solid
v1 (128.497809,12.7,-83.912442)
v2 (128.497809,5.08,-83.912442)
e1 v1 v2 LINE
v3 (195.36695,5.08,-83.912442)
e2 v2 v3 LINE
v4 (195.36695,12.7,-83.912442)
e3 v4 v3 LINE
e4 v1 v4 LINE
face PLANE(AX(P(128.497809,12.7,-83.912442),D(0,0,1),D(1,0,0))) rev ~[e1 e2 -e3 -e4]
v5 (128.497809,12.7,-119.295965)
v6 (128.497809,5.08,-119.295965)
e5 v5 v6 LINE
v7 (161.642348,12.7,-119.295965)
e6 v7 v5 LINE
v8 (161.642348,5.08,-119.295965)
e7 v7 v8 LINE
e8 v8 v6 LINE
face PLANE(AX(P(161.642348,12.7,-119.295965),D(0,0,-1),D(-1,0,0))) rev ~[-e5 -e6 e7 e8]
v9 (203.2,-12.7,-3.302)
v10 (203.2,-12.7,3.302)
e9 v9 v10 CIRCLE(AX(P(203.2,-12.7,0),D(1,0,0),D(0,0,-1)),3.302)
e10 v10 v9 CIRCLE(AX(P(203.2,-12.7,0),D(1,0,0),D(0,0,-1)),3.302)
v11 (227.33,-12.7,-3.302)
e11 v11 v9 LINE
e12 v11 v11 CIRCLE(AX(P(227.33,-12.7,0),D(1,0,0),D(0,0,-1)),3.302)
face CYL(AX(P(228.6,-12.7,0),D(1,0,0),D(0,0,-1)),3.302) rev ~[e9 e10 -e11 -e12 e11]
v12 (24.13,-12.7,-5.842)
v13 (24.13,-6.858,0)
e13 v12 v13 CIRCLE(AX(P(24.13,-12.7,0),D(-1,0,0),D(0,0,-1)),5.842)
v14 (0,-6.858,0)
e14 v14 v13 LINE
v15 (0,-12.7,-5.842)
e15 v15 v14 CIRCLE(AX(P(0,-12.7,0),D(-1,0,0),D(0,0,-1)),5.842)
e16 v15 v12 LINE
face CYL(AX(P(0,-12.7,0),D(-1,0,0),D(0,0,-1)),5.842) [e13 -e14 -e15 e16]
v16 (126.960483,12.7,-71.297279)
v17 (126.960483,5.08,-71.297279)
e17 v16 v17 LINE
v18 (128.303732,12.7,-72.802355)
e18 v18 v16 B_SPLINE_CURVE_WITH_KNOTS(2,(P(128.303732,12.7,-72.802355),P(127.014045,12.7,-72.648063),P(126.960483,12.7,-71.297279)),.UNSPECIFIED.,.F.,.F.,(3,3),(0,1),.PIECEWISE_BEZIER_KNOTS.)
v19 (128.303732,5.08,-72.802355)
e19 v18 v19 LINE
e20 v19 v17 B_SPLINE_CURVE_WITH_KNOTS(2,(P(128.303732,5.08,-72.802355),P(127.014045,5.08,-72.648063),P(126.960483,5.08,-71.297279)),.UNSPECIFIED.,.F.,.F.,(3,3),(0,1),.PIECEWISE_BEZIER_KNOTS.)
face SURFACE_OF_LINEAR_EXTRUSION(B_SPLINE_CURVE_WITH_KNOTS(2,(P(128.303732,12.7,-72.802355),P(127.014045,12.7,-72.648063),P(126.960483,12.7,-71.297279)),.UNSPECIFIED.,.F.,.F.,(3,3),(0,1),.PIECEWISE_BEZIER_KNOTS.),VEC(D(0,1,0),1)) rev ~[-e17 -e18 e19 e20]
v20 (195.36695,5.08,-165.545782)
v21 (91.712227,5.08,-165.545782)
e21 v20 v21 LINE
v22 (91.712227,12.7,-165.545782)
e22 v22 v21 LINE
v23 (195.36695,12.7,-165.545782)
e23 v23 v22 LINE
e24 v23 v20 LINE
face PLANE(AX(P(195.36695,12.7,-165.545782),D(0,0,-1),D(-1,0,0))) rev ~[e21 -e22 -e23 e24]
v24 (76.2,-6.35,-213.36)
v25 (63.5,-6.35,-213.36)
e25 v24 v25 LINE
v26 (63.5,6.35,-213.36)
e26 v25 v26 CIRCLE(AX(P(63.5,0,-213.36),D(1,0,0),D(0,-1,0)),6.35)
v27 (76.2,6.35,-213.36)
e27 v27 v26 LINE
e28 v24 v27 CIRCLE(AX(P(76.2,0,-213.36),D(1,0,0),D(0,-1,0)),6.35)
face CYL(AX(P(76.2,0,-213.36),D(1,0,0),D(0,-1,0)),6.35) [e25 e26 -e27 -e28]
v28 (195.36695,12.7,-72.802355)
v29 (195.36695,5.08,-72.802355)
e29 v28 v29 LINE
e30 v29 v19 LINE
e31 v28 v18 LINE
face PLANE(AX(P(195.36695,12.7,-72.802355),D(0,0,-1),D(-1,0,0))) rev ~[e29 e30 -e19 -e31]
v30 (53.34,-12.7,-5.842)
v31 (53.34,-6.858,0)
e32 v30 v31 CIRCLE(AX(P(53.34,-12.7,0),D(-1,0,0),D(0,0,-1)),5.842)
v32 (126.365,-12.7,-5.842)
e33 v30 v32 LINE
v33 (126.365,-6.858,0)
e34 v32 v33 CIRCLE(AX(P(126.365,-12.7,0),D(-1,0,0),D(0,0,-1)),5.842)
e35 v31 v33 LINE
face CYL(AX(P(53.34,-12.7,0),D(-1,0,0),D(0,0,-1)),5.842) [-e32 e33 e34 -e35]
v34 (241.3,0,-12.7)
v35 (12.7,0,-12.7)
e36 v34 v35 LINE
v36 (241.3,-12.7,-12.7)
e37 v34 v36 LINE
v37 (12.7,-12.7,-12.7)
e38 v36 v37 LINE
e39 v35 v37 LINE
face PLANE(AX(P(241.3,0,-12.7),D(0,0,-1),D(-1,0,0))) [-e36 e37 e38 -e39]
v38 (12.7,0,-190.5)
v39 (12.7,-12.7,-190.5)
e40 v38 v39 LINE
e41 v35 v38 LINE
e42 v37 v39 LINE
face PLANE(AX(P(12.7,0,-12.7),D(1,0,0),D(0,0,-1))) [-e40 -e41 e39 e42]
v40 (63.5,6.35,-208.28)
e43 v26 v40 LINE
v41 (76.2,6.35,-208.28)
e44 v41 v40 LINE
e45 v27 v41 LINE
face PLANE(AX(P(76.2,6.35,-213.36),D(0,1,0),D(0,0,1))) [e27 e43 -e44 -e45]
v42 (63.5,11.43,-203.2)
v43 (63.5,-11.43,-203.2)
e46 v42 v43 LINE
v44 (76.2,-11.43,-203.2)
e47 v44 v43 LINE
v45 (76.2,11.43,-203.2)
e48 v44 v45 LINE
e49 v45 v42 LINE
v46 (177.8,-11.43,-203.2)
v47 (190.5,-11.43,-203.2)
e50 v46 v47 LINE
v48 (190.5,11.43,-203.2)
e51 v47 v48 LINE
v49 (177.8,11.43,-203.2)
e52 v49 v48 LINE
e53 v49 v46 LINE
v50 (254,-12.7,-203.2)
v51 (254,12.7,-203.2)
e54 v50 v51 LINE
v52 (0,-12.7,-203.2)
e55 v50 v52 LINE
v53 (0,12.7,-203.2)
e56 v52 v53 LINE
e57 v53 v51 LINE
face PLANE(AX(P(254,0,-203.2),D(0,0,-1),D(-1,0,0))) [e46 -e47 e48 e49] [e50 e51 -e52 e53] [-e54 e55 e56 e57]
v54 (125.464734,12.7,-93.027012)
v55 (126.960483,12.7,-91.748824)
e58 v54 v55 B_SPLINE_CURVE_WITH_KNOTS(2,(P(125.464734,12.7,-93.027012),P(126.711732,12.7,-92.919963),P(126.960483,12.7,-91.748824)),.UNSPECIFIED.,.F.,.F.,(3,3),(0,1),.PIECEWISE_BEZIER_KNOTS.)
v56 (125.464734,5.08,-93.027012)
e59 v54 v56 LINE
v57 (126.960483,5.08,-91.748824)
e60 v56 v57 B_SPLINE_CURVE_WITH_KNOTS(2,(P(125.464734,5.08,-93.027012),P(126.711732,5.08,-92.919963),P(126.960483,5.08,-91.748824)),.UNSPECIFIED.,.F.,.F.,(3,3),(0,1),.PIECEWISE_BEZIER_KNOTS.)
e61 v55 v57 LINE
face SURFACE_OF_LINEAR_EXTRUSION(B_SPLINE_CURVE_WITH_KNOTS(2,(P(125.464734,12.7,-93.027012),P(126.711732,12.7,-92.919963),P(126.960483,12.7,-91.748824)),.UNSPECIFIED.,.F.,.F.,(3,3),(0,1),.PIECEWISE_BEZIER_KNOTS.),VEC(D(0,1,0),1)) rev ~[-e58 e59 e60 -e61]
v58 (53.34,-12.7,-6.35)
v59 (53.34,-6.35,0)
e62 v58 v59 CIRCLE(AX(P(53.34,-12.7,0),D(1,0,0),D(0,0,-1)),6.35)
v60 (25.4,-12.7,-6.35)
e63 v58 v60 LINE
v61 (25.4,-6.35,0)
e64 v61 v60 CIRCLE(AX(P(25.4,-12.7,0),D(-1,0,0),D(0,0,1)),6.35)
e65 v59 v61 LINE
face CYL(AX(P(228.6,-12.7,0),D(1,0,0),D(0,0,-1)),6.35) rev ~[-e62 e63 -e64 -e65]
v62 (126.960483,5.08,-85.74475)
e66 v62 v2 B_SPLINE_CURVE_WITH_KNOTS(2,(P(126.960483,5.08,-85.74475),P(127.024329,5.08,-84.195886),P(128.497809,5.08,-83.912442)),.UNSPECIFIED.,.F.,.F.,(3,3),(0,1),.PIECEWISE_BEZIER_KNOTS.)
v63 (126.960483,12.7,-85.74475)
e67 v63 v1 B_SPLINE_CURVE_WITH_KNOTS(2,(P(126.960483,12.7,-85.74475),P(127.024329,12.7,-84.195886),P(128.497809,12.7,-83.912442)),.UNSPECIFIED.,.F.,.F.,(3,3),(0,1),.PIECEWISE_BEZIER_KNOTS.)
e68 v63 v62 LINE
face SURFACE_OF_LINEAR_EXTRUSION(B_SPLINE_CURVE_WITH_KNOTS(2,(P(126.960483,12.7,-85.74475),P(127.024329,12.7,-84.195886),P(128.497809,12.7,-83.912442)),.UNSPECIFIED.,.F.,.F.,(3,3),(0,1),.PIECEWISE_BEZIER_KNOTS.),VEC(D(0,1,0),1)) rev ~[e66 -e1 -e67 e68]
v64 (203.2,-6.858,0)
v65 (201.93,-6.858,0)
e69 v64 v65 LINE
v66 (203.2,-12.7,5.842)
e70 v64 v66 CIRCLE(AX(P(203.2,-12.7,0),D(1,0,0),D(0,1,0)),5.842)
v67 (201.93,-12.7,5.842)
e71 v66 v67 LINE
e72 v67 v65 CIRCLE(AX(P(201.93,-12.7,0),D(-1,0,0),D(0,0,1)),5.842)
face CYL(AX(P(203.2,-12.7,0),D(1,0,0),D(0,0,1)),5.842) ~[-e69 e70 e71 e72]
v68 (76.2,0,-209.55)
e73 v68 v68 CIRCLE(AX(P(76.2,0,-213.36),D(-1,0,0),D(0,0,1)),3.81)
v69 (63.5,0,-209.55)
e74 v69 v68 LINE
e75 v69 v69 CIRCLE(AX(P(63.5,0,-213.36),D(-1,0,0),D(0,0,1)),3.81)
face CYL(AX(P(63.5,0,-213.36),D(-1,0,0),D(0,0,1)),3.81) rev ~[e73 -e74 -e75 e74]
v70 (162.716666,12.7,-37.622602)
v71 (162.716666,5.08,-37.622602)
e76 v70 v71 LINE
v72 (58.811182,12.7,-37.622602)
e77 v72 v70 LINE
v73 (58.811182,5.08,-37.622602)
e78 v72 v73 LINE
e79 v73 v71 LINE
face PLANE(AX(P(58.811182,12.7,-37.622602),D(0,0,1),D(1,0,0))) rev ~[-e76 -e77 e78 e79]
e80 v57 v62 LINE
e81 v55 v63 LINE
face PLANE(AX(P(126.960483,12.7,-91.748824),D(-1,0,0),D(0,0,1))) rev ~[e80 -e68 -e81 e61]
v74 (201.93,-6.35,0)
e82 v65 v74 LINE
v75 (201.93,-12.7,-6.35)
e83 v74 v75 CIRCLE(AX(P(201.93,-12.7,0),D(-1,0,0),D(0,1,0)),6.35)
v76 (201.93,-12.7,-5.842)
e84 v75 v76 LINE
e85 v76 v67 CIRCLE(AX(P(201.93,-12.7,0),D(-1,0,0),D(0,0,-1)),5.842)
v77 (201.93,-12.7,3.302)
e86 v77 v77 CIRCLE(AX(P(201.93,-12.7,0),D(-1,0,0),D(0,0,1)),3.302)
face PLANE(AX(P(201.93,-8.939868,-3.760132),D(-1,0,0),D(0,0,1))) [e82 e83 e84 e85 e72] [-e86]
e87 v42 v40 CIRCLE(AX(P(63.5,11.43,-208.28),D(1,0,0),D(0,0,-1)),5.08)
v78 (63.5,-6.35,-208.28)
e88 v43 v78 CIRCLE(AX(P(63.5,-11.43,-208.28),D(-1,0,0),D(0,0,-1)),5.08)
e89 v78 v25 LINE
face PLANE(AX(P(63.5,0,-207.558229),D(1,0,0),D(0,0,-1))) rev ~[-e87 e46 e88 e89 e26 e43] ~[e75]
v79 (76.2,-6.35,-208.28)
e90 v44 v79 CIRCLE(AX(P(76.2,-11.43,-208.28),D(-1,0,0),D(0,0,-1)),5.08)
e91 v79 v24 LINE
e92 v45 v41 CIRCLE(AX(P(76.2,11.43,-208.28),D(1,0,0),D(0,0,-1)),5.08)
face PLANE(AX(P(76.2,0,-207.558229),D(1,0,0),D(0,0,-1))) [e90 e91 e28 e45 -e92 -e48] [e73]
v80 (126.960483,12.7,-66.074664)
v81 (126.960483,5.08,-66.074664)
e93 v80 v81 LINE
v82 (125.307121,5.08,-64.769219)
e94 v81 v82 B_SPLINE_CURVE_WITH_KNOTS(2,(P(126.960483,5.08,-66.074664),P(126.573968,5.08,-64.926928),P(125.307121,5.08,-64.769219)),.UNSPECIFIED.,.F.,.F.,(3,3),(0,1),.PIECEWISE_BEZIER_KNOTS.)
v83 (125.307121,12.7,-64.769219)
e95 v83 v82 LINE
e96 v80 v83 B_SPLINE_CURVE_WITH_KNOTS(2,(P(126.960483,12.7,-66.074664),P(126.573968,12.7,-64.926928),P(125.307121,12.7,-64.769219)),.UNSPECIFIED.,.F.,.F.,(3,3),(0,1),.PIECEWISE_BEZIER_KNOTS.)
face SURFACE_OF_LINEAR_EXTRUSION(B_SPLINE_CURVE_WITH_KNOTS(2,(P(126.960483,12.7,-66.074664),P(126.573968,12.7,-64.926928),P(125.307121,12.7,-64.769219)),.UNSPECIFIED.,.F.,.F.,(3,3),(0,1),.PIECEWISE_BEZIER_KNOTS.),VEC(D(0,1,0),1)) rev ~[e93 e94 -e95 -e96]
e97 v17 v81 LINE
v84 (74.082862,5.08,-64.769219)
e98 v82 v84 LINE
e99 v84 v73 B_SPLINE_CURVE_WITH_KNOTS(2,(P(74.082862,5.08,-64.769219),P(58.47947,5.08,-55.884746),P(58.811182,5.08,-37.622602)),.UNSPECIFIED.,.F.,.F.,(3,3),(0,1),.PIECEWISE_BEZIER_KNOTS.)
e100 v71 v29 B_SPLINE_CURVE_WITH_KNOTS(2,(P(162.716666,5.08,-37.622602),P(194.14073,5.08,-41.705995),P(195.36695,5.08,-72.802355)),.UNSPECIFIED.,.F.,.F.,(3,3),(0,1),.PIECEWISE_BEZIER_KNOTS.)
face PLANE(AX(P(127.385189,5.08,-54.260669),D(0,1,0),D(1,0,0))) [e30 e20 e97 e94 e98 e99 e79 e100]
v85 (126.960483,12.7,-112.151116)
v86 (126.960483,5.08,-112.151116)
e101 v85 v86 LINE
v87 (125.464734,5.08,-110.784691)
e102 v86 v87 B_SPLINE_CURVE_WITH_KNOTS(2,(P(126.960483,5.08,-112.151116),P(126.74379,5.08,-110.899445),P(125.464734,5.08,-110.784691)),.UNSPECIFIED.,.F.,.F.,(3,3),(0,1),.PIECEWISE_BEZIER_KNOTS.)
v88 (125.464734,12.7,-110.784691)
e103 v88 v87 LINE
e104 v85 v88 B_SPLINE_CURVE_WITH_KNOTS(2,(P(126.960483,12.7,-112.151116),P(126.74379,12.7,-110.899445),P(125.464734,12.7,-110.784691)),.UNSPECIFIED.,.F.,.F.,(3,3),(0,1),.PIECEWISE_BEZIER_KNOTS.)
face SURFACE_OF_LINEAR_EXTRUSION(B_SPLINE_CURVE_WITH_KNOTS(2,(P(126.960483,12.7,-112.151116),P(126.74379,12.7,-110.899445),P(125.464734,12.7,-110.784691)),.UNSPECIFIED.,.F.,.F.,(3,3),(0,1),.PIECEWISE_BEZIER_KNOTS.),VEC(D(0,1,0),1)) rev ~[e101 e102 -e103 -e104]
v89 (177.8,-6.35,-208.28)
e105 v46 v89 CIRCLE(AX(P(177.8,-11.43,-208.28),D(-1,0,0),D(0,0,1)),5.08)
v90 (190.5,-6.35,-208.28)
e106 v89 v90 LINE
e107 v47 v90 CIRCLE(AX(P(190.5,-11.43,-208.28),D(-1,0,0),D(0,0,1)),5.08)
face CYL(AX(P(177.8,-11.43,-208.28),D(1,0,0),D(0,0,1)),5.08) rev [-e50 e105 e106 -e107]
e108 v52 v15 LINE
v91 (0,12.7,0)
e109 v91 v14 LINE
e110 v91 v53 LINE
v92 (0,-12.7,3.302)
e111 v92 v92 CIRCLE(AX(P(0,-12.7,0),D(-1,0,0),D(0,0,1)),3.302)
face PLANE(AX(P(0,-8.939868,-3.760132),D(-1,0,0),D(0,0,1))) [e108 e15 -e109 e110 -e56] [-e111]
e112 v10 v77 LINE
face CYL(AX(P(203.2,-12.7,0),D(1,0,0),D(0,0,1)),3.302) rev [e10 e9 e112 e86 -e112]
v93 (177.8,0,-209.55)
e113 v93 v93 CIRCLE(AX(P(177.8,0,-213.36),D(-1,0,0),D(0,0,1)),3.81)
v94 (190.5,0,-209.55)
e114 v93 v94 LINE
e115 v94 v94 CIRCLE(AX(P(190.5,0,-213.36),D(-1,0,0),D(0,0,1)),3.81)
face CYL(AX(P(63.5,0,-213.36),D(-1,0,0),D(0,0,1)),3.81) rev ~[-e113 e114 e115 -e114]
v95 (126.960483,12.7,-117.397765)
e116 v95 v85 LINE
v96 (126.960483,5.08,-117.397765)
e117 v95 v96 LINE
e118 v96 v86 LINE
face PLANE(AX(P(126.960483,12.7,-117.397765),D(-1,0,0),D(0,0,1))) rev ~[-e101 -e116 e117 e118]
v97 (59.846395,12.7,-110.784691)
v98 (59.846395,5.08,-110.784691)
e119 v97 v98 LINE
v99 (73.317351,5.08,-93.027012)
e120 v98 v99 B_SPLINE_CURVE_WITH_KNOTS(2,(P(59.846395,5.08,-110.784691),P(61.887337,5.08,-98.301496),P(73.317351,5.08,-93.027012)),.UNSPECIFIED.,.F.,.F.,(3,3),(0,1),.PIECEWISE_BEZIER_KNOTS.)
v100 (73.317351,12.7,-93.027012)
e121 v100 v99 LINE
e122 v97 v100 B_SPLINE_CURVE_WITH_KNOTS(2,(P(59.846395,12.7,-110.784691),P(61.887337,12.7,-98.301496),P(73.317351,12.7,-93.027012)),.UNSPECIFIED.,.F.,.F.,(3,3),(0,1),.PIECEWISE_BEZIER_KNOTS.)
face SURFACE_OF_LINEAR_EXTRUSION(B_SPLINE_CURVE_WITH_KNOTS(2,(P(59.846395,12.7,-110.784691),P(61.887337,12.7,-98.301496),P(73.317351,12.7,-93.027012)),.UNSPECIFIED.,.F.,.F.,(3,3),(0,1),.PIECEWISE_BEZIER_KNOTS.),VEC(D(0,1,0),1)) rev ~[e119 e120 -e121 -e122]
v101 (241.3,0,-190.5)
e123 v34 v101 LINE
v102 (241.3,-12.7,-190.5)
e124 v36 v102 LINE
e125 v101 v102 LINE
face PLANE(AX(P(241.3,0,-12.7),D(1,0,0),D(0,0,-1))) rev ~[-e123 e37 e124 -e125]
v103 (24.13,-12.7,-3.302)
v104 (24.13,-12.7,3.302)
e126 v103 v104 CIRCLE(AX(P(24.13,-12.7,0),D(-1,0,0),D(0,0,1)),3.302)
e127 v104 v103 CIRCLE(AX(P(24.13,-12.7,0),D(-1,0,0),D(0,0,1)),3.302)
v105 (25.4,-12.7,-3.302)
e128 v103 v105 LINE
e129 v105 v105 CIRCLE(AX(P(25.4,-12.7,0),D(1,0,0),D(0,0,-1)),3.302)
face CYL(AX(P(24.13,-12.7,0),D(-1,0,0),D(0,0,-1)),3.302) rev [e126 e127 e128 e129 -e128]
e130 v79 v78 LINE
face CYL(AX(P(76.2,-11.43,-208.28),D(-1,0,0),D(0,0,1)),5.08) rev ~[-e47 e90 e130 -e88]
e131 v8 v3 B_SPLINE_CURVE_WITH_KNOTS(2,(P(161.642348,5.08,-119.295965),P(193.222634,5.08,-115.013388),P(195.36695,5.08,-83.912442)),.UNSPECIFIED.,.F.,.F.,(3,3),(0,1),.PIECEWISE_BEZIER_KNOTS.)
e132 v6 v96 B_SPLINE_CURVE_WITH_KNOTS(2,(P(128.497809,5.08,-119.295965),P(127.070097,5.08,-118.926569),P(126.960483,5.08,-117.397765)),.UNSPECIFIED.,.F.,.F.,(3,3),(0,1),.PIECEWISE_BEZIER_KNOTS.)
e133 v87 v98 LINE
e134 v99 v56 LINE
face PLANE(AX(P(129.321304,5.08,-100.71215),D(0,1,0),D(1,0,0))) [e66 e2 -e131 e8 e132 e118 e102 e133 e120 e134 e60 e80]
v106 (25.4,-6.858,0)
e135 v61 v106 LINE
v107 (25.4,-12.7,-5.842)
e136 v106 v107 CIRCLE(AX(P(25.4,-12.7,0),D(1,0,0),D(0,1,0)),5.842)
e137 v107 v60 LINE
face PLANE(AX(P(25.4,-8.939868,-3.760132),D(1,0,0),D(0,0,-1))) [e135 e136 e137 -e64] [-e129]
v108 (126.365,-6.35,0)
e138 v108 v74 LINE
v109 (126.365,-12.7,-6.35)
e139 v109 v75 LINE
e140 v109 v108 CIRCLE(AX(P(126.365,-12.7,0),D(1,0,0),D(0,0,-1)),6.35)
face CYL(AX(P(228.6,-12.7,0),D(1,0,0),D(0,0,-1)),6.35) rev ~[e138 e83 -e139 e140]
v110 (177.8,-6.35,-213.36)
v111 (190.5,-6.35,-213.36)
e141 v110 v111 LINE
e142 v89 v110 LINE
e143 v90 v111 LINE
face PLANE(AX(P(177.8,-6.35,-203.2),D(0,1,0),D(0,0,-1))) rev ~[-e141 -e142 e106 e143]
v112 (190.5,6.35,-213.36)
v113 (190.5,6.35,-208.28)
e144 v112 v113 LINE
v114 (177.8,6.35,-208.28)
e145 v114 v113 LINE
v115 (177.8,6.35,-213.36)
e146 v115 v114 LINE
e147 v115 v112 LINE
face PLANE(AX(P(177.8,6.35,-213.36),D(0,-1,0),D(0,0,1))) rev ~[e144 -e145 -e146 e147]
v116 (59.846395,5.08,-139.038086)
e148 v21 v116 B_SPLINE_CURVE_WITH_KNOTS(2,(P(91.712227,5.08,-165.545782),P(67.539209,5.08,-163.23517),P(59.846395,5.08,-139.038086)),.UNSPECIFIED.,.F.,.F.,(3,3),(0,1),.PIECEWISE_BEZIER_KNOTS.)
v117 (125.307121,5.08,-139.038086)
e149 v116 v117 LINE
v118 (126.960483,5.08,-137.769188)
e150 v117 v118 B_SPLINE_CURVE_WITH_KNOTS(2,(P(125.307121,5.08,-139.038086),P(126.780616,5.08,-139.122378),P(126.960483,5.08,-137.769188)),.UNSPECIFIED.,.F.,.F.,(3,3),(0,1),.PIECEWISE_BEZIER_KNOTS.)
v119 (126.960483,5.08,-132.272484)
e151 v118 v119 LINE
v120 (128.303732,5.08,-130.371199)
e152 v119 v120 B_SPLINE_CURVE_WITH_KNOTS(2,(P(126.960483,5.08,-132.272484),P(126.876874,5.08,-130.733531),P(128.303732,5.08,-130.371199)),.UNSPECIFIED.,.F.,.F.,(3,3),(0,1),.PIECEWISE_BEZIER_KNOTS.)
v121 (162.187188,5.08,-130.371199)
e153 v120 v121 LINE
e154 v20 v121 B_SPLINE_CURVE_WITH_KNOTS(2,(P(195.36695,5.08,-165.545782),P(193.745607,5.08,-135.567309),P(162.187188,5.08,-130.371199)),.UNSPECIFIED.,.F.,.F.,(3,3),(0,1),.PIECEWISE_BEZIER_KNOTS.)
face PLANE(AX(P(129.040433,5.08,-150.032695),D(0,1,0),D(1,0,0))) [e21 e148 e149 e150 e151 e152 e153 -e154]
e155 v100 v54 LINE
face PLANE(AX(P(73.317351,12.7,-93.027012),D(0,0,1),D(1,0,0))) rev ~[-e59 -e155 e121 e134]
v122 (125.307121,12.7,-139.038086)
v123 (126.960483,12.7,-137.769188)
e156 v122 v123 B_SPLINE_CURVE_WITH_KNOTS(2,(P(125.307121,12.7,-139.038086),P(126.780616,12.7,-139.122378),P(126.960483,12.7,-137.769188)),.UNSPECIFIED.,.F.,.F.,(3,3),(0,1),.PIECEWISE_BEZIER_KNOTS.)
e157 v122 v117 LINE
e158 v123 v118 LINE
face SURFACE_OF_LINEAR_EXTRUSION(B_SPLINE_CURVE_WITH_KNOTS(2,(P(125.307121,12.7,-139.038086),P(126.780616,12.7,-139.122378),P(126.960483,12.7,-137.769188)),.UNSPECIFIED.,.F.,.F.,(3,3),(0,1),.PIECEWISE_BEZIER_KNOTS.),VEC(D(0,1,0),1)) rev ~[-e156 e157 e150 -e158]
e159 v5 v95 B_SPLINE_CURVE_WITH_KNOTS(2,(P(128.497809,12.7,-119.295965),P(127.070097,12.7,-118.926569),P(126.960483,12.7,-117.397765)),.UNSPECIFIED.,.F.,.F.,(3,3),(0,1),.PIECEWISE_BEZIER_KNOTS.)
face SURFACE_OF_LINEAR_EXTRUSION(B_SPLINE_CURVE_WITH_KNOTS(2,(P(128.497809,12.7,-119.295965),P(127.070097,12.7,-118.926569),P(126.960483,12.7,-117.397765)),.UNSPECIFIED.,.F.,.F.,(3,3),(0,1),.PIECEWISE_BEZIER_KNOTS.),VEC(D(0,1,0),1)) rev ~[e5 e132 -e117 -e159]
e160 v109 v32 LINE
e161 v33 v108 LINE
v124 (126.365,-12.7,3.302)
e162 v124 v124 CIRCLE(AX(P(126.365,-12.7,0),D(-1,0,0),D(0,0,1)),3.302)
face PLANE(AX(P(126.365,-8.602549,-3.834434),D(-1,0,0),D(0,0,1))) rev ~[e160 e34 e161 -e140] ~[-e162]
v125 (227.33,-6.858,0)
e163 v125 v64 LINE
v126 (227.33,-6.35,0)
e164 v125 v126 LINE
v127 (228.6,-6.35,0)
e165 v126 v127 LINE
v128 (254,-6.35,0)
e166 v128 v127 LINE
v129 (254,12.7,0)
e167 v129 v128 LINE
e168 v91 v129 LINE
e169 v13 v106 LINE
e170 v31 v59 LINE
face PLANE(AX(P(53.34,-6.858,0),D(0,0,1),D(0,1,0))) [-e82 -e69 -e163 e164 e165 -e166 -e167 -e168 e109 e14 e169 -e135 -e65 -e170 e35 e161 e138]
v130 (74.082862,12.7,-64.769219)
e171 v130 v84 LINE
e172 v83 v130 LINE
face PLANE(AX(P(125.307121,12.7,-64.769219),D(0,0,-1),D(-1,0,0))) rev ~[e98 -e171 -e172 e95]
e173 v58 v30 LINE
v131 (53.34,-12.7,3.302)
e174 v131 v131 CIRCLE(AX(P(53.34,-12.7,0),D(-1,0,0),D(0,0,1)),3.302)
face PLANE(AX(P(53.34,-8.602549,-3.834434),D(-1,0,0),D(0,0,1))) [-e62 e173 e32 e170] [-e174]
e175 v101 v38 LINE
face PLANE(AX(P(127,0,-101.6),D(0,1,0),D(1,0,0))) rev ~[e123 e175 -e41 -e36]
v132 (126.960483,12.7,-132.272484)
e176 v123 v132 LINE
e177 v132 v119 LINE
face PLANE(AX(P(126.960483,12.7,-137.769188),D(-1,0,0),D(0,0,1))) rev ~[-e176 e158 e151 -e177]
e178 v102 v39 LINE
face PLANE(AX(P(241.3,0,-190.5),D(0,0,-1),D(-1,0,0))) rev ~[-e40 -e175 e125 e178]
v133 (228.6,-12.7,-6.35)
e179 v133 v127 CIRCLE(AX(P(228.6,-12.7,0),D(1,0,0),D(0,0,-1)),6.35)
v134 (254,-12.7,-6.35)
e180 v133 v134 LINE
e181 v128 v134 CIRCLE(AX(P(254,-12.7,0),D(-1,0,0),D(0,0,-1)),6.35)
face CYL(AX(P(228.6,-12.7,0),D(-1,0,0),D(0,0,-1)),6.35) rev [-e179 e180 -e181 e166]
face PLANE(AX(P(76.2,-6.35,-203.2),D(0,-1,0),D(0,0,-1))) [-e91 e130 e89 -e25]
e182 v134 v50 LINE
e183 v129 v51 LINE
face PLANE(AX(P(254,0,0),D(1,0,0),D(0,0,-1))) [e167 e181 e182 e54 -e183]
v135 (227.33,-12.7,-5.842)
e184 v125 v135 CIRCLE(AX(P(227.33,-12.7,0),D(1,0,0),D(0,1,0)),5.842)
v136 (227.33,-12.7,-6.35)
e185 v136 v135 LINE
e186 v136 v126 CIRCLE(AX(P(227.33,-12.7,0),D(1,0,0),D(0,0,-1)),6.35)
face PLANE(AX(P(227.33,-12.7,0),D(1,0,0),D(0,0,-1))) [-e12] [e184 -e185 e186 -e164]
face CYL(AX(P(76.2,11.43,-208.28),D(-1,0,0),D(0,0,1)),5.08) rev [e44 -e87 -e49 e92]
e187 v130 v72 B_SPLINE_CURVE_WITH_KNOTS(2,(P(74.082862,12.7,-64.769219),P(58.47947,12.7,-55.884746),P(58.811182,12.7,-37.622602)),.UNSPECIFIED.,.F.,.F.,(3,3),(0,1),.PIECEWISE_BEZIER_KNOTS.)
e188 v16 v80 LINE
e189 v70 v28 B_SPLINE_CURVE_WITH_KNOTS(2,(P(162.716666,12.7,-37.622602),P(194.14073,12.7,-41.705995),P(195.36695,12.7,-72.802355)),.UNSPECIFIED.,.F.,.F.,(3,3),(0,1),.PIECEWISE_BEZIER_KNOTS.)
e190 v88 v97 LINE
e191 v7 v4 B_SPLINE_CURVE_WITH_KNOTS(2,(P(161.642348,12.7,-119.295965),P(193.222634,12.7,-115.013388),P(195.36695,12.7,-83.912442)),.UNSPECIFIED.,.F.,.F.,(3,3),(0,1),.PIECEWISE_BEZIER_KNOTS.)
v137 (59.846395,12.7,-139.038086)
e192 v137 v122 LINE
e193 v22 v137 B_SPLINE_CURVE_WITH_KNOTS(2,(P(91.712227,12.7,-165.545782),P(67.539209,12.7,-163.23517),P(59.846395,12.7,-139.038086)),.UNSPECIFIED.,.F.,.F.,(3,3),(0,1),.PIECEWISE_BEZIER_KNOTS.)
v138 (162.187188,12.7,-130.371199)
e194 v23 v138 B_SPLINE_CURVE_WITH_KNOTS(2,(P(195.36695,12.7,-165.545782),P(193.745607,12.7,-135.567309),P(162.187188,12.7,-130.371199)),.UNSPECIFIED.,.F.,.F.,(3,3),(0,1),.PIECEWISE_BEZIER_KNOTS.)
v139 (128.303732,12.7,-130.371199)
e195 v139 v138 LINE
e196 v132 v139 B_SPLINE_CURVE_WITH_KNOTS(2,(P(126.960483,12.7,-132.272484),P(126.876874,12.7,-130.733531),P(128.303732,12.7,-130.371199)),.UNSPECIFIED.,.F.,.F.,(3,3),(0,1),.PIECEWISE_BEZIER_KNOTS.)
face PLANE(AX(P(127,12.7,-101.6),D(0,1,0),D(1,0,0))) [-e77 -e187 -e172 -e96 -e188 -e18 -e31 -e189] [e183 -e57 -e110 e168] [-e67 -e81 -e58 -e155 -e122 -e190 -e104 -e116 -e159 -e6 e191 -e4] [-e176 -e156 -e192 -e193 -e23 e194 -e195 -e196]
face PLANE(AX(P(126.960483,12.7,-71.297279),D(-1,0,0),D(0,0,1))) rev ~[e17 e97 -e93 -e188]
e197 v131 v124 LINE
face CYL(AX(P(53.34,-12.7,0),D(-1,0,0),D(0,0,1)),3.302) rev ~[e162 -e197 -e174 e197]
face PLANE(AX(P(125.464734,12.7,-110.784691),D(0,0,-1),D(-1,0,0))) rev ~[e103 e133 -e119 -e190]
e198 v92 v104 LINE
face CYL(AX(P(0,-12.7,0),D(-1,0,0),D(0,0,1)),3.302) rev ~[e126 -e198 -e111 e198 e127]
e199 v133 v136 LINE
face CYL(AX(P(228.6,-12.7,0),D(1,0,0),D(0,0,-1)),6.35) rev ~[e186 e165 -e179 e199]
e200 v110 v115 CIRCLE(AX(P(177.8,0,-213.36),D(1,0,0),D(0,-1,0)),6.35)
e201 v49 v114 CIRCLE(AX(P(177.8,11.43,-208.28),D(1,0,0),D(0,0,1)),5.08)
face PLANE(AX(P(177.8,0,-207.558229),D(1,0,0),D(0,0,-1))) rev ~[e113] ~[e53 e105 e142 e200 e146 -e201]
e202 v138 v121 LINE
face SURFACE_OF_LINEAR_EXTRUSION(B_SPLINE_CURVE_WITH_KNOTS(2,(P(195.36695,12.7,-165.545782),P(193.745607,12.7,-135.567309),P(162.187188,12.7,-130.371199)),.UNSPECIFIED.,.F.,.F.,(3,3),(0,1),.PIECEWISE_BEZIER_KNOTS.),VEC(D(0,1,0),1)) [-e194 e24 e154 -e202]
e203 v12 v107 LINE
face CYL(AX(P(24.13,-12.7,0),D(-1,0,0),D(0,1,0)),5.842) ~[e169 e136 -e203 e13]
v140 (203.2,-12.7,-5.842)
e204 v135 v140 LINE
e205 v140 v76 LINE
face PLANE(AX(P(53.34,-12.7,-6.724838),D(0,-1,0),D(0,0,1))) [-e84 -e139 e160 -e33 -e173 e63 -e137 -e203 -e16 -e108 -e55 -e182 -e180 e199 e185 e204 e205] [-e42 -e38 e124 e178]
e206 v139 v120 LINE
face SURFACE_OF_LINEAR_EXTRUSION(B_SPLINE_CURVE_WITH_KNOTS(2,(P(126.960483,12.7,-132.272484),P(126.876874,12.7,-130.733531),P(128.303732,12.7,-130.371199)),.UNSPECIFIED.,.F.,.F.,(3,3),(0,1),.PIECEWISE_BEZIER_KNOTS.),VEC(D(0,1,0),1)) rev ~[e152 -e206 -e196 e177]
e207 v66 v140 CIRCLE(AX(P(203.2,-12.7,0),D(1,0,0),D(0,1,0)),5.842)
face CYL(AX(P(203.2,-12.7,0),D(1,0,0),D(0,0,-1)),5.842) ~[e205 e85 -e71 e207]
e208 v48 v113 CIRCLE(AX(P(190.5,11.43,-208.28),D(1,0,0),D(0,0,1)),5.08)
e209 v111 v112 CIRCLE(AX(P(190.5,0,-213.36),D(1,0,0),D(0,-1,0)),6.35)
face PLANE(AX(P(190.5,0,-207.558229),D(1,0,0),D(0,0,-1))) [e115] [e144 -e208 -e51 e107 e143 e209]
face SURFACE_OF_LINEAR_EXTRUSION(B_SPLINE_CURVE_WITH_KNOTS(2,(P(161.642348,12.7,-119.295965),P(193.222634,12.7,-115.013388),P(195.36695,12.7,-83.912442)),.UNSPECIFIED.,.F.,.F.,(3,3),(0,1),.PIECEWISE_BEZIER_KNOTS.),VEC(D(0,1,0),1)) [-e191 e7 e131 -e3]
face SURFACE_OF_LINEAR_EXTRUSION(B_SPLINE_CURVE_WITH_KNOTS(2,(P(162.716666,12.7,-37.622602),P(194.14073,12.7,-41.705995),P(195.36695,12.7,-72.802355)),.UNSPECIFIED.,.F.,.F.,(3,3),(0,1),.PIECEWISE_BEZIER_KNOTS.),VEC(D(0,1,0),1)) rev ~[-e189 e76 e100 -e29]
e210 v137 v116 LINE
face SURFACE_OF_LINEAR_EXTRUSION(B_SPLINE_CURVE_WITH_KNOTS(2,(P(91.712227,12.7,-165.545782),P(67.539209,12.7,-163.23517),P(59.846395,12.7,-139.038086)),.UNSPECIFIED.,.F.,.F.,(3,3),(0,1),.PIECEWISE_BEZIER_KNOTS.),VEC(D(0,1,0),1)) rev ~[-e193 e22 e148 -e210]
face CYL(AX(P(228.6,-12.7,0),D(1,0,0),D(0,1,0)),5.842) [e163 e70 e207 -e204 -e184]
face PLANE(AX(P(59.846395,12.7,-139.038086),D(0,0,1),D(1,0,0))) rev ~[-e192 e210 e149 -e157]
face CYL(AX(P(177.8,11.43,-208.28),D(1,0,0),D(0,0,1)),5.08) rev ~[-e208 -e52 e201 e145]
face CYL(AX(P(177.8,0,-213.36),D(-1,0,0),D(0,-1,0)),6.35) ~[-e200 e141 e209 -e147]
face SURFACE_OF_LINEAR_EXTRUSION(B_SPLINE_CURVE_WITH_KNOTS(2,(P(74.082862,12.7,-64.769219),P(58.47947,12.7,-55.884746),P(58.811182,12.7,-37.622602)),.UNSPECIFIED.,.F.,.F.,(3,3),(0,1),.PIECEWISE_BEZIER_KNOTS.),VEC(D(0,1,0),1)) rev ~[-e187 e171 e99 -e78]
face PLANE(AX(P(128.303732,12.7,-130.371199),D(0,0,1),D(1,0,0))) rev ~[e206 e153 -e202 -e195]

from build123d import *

# Parameters (mm, degrees)
SKETCH1_W            = 254
SKETCH1_H            = 203.2
BOSS_EXTRUDE2_DEPTH  = 12.7
SKETCH2_W            = 254
SKETCH2_H            = 203.2
SKETCH2_W_2          = 228.6
SKETCH2_H_2          = 177.8
BOSS_EXTRUDE3_DEPTH  = 12.7
SKETCH6_R            = 6.35
CUT_EXTRUDE2_DEPTH   = 52.07
SKETCH8_R            = 6.35
CUT_EXTRUDE3_DEPTH   = 52.07
SKETCH9_R            = 3.302
BOSS_EXTRUDE5_DEPTH  = 25.4
SKETCH10_R           = 6.35
CUT_EXTRUDE4_DEPTH   = 45.212
SKETCH11_R           = 6.35
CUT_EXTRUDE5_DEPTH   = 190.246
SKETCH12_R           = 5.842
SKETCH12_R_2         = 3.302
BOSS_EXTRUDE6_DEPTH  = 24.13
SKETCH15_R           = 6.35
CUT_EXTRUDE6_DEPTH   = 1.27
SKETCH17_R           = 3.302
BOSS_EXTRUDE7_DEPTH  = 1.27
SKETCH18_R           = 3.302
BOSS_EXTRUDE8_DEPTH  = 1.27
SKETCH19_R           = 5.842
SKETCH19_R_2         = 3.302
BOSS_EXTRUDE9_DEPTH  = 73.025
CUT_EXTRUDE7_DEPTH   = 7.62
SKETCH21_R           = 6.35
BOSS_EXTRUDE10_DEPTH = 12.7
SKETCH23_R           = 6.35
BOSS_EXTRUDE11_DEPTH = 12.7
SKETCH24_R           = 3.81
CUT_EXTRUDE8_DEPTH   = 167.132
FILLET1_R            = 5.08


with BuildPart() as part:
    # Sketch1 → Boss-Extrude2 (new body)
    with BuildSketch(Plane(origin=(0, 0, 0), x_dir=(1, 0, 0), z_dir=(0, 1, 0))):
        with Locations((127, 101.6)):
            Rectangle(SKETCH1_W, SKETCH1_H)
    extrude(amount=BOSS_EXTRUDE2_DEPTH)

    # Sketch2 → Boss-Extrude3 (add)
    with BuildSketch(Plane(origin=(0, 0, 0), x_dir=(-1, 0, 0), z_dir=(0, -1, 0))):
        with Locations((-127, 101.6)):
            Rectangle(SKETCH2_W, SKETCH2_H)
        with Locations((-127, 101.6)):
            Rectangle(SKETCH2_W_2, SKETCH2_H_2, mode=Mode.SUBTRACT)
    extrude(amount=BOSS_EXTRUDE3_DEPTH)

    # Sketch6 → Cut-Extrude2 (cut)
    with BuildSketch(Plane(origin=(228.6, 0, 0), x_dir=(0, 0, -1), z_dir=(1, 0, 0))):
        with Locations((0, -12.7)):
            Circle(SKETCH6_R)
    extrude(amount=-CUT_EXTRUDE2_DEPTH, mode=Mode.SUBTRACT)

    # Sketch8 → Cut-Extrude3 (cut)
    with BuildSketch(Plane.ZY.offset(-25.4)):
        with Locations((0, -12.7)):
            Circle(SKETCH8_R)
    extrude(amount=-CUT_EXTRUDE3_DEPTH, mode=Mode.SUBTRACT)

    # Sketch9 → Boss-Extrude5 (add)
    with BuildSketch(Plane(origin=(228.6, 0, 0), x_dir=(0, 0, -1), z_dir=(1, 0, 0))):
        with BuildLine():
            Line((0, -4.734153711), (0, -6.858))
            ThreePointArc((0, -6.858), (-4.130917816, -16.830917816), (5.842, -12.7))
            Line((5.842, -12.7), (6.842694324, -12.7))
            Line((6.842694324, -12.7), (6.842694324, -8.927228158))
            Line((6.842694324, -8.927228158), (0, -4.734153711))
        make_face()
        with Locations((0, -12.7)):
            Circle(SKETCH9_R, mode=Mode.SUBTRACT)
    extrude(amount=-BOSS_EXTRUDE5_DEPTH)

    # Sketch10 → Cut-Extrude4 (cut)
    with BuildSketch(Plane(origin=(228.6, 0, 0), x_dir=(0, 0, -1), z_dir=(1, 0, 0))):
        with Locations((0, -12.7)):
            Circle(SKETCH10_R)
    extrude(amount=CUT_EXTRUDE4_DEPTH, mode=Mode.SUBTRACT)

    # Sketch11 → Cut-Extrude5 (cut)
    with BuildSketch(Plane(origin=(176.53, 0, 0), x_dir=(0, 0, -1), z_dir=(1, 0, 0))):
        with Locations((0, -12.7)):
            Circle(SKETCH11_R)
    extrude(amount=-CUT_EXTRUDE5_DEPTH, mode=Mode.SUBTRACT)

    # Sketch12 → Boss-Extrude6 (add)
    with BuildSketch(Plane.ZY):
        with BuildLine():
            ThreePointArc((-5.842, -12.7), (-4.130917816, -8.569082184), (0, -6.858))
            Line((0, -6.858), (0, -6.35))
            ThreePointArc((0, -6.35), (-4.490128061, -8.209871939), (-6.35, -12.7))
            Line((-6.35, -12.7), (-5.842, -12.7))
        make_face()
        with Locations((0, -12.7)):
            Circle(SKETCH12_R)
        with Locations((0, -12.7)):
            Circle(SKETCH12_R_2, mode=Mode.SUBTRACT)
    extrude(amount=-BOSS_EXTRUDE6_DEPTH)

    # Sketch15 → Cut-Extrude6 (cut)
    with BuildSketch(Plane(origin=(228.6, 0, 0), x_dir=(0, 0, -1), z_dir=(1, 0, 0))):
        with Locations((0, -12.7)):
            Circle(SKETCH15_R)
    extrude(amount=-CUT_EXTRUDE6_DEPTH, mode=Mode.SUBTRACT)

    # Sketch17 → Boss-Extrude7 (add)
    with BuildSketch(Plane.ZY.offset(-203.2)):
        with BuildLine():
            ThreePointArc((-5.842, -12.7), (-4.130917816, -8.569082184), (0, -6.858))
            Line((0, -6.858), (0, -6.35))
            ThreePointArc((0, -6.35), (-4.490128061, -8.209871939), (-6.35, -12.7))
            Line((-6.35, -12.7), (-5.842, -12.7))
        make_face()
        with BuildLine():
            ThreePointArc((5.842, -12.7), (4.130917816, -8.569082184), (0, -6.858))
            ThreePointArc((0, -6.858), (-4.130917816, -8.569082184), (-5.842, -12.7))
            ThreePointArc((-5.842, -12.7), (0, -18.542), (5.842, -12.7))
        make_face()
        with Locations((0, -12.7)):
            Circle(SKETCH17_R, mode=Mode.SUBTRACT)
    extrude(amount=BOSS_EXTRUDE7_DEPTH)

    # Sketch18 → Boss-Extrude8 (add)
    with BuildSketch(Plane(origin=(24.13, 0, 0), x_dir=(0, 0, -1), z_dir=(1, 0, 0))):
        with BuildLine():
            Line((0, -6.35), (0, -6.858))
            ThreePointArc((0, -6.858), (4.130917816, -8.569082184), (5.842, -12.7))
            Line((5.842, -12.7), (6.35, -12.7))
            ThreePointArc((6.35, -12.7), (4.490128061, -8.209871939), (0, -6.35))
        make_face()
        with BuildLine():
            ThreePointArc((5.842, -12.7), (4.130917816, -8.569082184), (0, -6.858))
            ThreePointArc((0, -6.858), (-4.130917816, -16.830917816), (5.842, -12.7))
        make_face()
        with Locations((0, -12.7)):
            Circle(SKETCH18_R, mode=Mode.SUBTRACT)
    extrude(amount=BOSS_EXTRUDE8_DEPTH)

    # Sketch19 → Boss-Extrude9 (add)
    with BuildSketch(Plane.ZY.offset(-53.34)):
        with BuildLine():
            ThreePointArc((-5.842, -12.7), (-4.130917816, -8.569082184), (0, -6.858))
            Line((0, -6.858), (0, -5.334694101))
            Line((0, -5.334694101), (-5.217733662, -7.625492191))
            Line((-5.217733662, -7.625492191), (-6.523890468, -10.619605484))
            Line((-6.523890468, -10.619605484), (-6.724837669, -12.7))
            Line((-6.724837669, -12.7), (-5.842, -12.7))
        make_face()
        with Locations((0, -12.7)):
            Circle(SKETCH19_R)
        with Locations((0, -12.7)):
            Circle(SKETCH19_R_2, mode=Mode.SUBTRACT)
    extrude(amount=-BOSS_EXTRUDE9_DEPTH)

    # Sketch3 → Cut-Extrude7 (cut)
    with BuildSketch(Plane(origin=(0, 12.7, 0), x_dir=(1, 0, 0), z_dir=(0, 1, 0))):
        with BuildLine():
            Line((195.366950221, 165.545782342), (91.71222682, 165.545782342))
            add(Edge.make_bspline(
                [(91.71222682, 165.545782342), (67.539208551, 163.235170178), (59.846395191, 139.038085668)],
                knots=[0, 0, 0, 1, 1, 1], degree=2))
            Line((59.846395191, 139.038085668), (125.30712104, 139.038085668))
            add(Edge.make_bspline(
                [(125.30712104, 139.038085668), (126.780616205, 139.122377702), (126.96048329, 137.769188416)],
                knots=[0, 0, 0, 1, 1, 1], degree=2))
            Line((126.96048329, 137.769188416), (126.96048329, 132.272484091))
            add(Edge.make_bspline(
                [(126.96048329, 132.272484091), (126.876874172, 130.733531241), (128.303731924, 130.371199046)],
                knots=[0, 0, 0, 1, 1, 1], degree=2))
            Line((128.303731924, 130.371199046), (162.187188306, 130.371199046))
            add(Edge.make_bspline(
                [(195.366950221, 165.545782342), (193.745607246, 135.56730888), (162.187188306, 130.371199046)],
                knots=[0, 0, 0, 1, 1, 1], degree=2))
        make_face()
        with BuildLine():
            Line((161.642347888, 119.295964928), (128.497808789, 119.295964928))
            add(Edge.make_bspline(
                [(128.497808789, 119.295964928), (127.070096751, 118.926569019), (126.96048329, 117.397764841)],
                knots=[0, 0, 0, 1, 1, 1], degree=2))
            Line((126.96048329, 117.397764841), (126.96048329, 112.151116085))
            add(Edge.make_bspline(
                [(126.96048329, 112.151116085), (126.743790117, 110.899444942), (125.464733978, 110.784690654)],
                knots=[0, 0, 0, 1, 1, 1], degree=2))
            Line((125.464733978, 110.784690654), (59.846395191, 110.784690654))
            add(Edge.make_bspline(
                [(59.846395191, 110.784690654), (61.887337052, 98.301496186), (73.317351169, 93.027012339)],
                knots=[0, 0, 0, 1, 1, 1], degree=2))
            Line((73.317351169, 93.027012339), (125.464733978, 93.027012339))
            add(Edge.make_bspline(
                [(125.464733978, 93.027012339), (126.711731964, 92.919963041), (126.96048329, 91.748824412)],
                knots=[0, 0, 0, 1, 1, 1], degree=2))
            Line((126.96048329, 91.748824412), (126.96048329, 85.74475013))
            add(Edge.make_bspline(
                [(126.96048329, 85.74475013), (127.024328685, 84.195885842), (128.497808789, 83.912442397)],
                knots=[0, 0, 0, 1, 1, 1], degree=2))
            Line((128.497808789, 83.912442397), (195.366950221, 83.912442397))
            add(Edge.make_bspline(
                [(161.642347888, 119.295964928), (193.222633695, 115.013388161), (195.366950221, 83.912442397)],
                knots=[0, 0, 0, 1, 1, 1], degree=2))
        make_face()
        with BuildLine():
            Line((195.366950221, 72.802355269), (128.303731924, 72.802355269))
            add(Edge.make_bspline(
                [(128.303731924, 72.802355269), (127.014045367, 72.648063165), (126.96048329, 71.297279055)],
                knots=[0, 0, 0, 1, 1, 1], degree=2))
            Line((126.96048329, 71.297279055), (126.96048329, 66.07466352))
            add(Edge.make_bspline(
                [(126.96048329, 66.07466352), (126.573968469, 64.92692802), (125.30712104, 64.769219048)],
                knots=[0, 0, 0, 1, 1, 1], degree=2))
            Line((125.30712104, 64.769219048), (74.082862231, 64.769219048))
            add(Edge.make_bspline(
                [(74.082862231, 64.769219048), (58.4794695, 55.884745917), (58.811181594, 37.622601841)],
                knots=[0, 0, 0, 1, 1, 1], degree=2))
            Line((58.811181594, 37.622601841), (162.716666362, 37.622601841))
            add(Edge.make_bspline(
                [(162.716666362, 37.622601841), (194.140729717, 41.705995139), (195.366950221, 72.802355269)],
                knots=[0, 0, 0, 1, 1, 1], degree=2))
        make_face()
    extrude(amount=-CUT_EXTRUDE7_DEPTH, mode=Mode.SUBTRACT)

    # Sketch21 → Boss-Extrude10 (add)
    with BuildSketch(Plane(origin=(177.8, 0, 0), x_dir=(0, 0, -1), z_dir=(1, 0, 0))):
        with BuildLine():
            Line((203.2, 6.35), (203.2, 0))
            Line((203.2, 0), (203.2, -6.35))
            Line((203.2, -6.35), (213.36, -6.35))
            ThreePointArc((213.36, -6.35), (207.01, 0), (213.36, 6.35))
            Line((213.36, 6.35), (203.2, 6.35))
        make_face()
        with Locations((213.36, 0)):
            Circle(SKETCH21_R)
    extrude(amount=BOSS_EXTRUDE10_DEPTH)

    # Sketch23 → Boss-Extrude11 (add)
    with BuildSketch(Plane(origin=(76.2, 0, 0), x_dir=(0, 0, -1), z_dir=(1, 0, 0))):
        with BuildLine():
            Line((213.36, 6.35), (203.2, 6.35))
            Line((203.2, 6.35), (203.2, -6.35))
            Line((203.2, -6.35), (213.36, -6.35))
            ThreePointArc((213.36, -6.35), (207.01, 0), (213.36, 6.35))
        make_face()
        with Locations((213.36, 0)):
            Circle(SKETCH23_R)
    extrude(amount=-BOSS_EXTRUDE11_DEPTH)

    # Sketch24 → Cut-Extrude8 (cut)
    with BuildSketch(Plane.ZY.offset(-63.5)):
        with Locations((-213.36, 0)):
            Circle(SKETCH24_R)
    extrude(amount=-CUT_EXTRUDE8_DEPTH, mode=Mode.SUBTRACT)

    # Fillet1
    fillet1_edges = [part.edges().sort_by_distance(p)[0] for p in [
        (184.15, -6.35, -203.2),
        (184.15, 6.35, -203.2),
        (69.85, -6.35, -203.2),
        (69.85, 6.35, -203.2),
    ]]
    fillet(fillet1_edges, radius=FILLET1_R)


solid = part.part
